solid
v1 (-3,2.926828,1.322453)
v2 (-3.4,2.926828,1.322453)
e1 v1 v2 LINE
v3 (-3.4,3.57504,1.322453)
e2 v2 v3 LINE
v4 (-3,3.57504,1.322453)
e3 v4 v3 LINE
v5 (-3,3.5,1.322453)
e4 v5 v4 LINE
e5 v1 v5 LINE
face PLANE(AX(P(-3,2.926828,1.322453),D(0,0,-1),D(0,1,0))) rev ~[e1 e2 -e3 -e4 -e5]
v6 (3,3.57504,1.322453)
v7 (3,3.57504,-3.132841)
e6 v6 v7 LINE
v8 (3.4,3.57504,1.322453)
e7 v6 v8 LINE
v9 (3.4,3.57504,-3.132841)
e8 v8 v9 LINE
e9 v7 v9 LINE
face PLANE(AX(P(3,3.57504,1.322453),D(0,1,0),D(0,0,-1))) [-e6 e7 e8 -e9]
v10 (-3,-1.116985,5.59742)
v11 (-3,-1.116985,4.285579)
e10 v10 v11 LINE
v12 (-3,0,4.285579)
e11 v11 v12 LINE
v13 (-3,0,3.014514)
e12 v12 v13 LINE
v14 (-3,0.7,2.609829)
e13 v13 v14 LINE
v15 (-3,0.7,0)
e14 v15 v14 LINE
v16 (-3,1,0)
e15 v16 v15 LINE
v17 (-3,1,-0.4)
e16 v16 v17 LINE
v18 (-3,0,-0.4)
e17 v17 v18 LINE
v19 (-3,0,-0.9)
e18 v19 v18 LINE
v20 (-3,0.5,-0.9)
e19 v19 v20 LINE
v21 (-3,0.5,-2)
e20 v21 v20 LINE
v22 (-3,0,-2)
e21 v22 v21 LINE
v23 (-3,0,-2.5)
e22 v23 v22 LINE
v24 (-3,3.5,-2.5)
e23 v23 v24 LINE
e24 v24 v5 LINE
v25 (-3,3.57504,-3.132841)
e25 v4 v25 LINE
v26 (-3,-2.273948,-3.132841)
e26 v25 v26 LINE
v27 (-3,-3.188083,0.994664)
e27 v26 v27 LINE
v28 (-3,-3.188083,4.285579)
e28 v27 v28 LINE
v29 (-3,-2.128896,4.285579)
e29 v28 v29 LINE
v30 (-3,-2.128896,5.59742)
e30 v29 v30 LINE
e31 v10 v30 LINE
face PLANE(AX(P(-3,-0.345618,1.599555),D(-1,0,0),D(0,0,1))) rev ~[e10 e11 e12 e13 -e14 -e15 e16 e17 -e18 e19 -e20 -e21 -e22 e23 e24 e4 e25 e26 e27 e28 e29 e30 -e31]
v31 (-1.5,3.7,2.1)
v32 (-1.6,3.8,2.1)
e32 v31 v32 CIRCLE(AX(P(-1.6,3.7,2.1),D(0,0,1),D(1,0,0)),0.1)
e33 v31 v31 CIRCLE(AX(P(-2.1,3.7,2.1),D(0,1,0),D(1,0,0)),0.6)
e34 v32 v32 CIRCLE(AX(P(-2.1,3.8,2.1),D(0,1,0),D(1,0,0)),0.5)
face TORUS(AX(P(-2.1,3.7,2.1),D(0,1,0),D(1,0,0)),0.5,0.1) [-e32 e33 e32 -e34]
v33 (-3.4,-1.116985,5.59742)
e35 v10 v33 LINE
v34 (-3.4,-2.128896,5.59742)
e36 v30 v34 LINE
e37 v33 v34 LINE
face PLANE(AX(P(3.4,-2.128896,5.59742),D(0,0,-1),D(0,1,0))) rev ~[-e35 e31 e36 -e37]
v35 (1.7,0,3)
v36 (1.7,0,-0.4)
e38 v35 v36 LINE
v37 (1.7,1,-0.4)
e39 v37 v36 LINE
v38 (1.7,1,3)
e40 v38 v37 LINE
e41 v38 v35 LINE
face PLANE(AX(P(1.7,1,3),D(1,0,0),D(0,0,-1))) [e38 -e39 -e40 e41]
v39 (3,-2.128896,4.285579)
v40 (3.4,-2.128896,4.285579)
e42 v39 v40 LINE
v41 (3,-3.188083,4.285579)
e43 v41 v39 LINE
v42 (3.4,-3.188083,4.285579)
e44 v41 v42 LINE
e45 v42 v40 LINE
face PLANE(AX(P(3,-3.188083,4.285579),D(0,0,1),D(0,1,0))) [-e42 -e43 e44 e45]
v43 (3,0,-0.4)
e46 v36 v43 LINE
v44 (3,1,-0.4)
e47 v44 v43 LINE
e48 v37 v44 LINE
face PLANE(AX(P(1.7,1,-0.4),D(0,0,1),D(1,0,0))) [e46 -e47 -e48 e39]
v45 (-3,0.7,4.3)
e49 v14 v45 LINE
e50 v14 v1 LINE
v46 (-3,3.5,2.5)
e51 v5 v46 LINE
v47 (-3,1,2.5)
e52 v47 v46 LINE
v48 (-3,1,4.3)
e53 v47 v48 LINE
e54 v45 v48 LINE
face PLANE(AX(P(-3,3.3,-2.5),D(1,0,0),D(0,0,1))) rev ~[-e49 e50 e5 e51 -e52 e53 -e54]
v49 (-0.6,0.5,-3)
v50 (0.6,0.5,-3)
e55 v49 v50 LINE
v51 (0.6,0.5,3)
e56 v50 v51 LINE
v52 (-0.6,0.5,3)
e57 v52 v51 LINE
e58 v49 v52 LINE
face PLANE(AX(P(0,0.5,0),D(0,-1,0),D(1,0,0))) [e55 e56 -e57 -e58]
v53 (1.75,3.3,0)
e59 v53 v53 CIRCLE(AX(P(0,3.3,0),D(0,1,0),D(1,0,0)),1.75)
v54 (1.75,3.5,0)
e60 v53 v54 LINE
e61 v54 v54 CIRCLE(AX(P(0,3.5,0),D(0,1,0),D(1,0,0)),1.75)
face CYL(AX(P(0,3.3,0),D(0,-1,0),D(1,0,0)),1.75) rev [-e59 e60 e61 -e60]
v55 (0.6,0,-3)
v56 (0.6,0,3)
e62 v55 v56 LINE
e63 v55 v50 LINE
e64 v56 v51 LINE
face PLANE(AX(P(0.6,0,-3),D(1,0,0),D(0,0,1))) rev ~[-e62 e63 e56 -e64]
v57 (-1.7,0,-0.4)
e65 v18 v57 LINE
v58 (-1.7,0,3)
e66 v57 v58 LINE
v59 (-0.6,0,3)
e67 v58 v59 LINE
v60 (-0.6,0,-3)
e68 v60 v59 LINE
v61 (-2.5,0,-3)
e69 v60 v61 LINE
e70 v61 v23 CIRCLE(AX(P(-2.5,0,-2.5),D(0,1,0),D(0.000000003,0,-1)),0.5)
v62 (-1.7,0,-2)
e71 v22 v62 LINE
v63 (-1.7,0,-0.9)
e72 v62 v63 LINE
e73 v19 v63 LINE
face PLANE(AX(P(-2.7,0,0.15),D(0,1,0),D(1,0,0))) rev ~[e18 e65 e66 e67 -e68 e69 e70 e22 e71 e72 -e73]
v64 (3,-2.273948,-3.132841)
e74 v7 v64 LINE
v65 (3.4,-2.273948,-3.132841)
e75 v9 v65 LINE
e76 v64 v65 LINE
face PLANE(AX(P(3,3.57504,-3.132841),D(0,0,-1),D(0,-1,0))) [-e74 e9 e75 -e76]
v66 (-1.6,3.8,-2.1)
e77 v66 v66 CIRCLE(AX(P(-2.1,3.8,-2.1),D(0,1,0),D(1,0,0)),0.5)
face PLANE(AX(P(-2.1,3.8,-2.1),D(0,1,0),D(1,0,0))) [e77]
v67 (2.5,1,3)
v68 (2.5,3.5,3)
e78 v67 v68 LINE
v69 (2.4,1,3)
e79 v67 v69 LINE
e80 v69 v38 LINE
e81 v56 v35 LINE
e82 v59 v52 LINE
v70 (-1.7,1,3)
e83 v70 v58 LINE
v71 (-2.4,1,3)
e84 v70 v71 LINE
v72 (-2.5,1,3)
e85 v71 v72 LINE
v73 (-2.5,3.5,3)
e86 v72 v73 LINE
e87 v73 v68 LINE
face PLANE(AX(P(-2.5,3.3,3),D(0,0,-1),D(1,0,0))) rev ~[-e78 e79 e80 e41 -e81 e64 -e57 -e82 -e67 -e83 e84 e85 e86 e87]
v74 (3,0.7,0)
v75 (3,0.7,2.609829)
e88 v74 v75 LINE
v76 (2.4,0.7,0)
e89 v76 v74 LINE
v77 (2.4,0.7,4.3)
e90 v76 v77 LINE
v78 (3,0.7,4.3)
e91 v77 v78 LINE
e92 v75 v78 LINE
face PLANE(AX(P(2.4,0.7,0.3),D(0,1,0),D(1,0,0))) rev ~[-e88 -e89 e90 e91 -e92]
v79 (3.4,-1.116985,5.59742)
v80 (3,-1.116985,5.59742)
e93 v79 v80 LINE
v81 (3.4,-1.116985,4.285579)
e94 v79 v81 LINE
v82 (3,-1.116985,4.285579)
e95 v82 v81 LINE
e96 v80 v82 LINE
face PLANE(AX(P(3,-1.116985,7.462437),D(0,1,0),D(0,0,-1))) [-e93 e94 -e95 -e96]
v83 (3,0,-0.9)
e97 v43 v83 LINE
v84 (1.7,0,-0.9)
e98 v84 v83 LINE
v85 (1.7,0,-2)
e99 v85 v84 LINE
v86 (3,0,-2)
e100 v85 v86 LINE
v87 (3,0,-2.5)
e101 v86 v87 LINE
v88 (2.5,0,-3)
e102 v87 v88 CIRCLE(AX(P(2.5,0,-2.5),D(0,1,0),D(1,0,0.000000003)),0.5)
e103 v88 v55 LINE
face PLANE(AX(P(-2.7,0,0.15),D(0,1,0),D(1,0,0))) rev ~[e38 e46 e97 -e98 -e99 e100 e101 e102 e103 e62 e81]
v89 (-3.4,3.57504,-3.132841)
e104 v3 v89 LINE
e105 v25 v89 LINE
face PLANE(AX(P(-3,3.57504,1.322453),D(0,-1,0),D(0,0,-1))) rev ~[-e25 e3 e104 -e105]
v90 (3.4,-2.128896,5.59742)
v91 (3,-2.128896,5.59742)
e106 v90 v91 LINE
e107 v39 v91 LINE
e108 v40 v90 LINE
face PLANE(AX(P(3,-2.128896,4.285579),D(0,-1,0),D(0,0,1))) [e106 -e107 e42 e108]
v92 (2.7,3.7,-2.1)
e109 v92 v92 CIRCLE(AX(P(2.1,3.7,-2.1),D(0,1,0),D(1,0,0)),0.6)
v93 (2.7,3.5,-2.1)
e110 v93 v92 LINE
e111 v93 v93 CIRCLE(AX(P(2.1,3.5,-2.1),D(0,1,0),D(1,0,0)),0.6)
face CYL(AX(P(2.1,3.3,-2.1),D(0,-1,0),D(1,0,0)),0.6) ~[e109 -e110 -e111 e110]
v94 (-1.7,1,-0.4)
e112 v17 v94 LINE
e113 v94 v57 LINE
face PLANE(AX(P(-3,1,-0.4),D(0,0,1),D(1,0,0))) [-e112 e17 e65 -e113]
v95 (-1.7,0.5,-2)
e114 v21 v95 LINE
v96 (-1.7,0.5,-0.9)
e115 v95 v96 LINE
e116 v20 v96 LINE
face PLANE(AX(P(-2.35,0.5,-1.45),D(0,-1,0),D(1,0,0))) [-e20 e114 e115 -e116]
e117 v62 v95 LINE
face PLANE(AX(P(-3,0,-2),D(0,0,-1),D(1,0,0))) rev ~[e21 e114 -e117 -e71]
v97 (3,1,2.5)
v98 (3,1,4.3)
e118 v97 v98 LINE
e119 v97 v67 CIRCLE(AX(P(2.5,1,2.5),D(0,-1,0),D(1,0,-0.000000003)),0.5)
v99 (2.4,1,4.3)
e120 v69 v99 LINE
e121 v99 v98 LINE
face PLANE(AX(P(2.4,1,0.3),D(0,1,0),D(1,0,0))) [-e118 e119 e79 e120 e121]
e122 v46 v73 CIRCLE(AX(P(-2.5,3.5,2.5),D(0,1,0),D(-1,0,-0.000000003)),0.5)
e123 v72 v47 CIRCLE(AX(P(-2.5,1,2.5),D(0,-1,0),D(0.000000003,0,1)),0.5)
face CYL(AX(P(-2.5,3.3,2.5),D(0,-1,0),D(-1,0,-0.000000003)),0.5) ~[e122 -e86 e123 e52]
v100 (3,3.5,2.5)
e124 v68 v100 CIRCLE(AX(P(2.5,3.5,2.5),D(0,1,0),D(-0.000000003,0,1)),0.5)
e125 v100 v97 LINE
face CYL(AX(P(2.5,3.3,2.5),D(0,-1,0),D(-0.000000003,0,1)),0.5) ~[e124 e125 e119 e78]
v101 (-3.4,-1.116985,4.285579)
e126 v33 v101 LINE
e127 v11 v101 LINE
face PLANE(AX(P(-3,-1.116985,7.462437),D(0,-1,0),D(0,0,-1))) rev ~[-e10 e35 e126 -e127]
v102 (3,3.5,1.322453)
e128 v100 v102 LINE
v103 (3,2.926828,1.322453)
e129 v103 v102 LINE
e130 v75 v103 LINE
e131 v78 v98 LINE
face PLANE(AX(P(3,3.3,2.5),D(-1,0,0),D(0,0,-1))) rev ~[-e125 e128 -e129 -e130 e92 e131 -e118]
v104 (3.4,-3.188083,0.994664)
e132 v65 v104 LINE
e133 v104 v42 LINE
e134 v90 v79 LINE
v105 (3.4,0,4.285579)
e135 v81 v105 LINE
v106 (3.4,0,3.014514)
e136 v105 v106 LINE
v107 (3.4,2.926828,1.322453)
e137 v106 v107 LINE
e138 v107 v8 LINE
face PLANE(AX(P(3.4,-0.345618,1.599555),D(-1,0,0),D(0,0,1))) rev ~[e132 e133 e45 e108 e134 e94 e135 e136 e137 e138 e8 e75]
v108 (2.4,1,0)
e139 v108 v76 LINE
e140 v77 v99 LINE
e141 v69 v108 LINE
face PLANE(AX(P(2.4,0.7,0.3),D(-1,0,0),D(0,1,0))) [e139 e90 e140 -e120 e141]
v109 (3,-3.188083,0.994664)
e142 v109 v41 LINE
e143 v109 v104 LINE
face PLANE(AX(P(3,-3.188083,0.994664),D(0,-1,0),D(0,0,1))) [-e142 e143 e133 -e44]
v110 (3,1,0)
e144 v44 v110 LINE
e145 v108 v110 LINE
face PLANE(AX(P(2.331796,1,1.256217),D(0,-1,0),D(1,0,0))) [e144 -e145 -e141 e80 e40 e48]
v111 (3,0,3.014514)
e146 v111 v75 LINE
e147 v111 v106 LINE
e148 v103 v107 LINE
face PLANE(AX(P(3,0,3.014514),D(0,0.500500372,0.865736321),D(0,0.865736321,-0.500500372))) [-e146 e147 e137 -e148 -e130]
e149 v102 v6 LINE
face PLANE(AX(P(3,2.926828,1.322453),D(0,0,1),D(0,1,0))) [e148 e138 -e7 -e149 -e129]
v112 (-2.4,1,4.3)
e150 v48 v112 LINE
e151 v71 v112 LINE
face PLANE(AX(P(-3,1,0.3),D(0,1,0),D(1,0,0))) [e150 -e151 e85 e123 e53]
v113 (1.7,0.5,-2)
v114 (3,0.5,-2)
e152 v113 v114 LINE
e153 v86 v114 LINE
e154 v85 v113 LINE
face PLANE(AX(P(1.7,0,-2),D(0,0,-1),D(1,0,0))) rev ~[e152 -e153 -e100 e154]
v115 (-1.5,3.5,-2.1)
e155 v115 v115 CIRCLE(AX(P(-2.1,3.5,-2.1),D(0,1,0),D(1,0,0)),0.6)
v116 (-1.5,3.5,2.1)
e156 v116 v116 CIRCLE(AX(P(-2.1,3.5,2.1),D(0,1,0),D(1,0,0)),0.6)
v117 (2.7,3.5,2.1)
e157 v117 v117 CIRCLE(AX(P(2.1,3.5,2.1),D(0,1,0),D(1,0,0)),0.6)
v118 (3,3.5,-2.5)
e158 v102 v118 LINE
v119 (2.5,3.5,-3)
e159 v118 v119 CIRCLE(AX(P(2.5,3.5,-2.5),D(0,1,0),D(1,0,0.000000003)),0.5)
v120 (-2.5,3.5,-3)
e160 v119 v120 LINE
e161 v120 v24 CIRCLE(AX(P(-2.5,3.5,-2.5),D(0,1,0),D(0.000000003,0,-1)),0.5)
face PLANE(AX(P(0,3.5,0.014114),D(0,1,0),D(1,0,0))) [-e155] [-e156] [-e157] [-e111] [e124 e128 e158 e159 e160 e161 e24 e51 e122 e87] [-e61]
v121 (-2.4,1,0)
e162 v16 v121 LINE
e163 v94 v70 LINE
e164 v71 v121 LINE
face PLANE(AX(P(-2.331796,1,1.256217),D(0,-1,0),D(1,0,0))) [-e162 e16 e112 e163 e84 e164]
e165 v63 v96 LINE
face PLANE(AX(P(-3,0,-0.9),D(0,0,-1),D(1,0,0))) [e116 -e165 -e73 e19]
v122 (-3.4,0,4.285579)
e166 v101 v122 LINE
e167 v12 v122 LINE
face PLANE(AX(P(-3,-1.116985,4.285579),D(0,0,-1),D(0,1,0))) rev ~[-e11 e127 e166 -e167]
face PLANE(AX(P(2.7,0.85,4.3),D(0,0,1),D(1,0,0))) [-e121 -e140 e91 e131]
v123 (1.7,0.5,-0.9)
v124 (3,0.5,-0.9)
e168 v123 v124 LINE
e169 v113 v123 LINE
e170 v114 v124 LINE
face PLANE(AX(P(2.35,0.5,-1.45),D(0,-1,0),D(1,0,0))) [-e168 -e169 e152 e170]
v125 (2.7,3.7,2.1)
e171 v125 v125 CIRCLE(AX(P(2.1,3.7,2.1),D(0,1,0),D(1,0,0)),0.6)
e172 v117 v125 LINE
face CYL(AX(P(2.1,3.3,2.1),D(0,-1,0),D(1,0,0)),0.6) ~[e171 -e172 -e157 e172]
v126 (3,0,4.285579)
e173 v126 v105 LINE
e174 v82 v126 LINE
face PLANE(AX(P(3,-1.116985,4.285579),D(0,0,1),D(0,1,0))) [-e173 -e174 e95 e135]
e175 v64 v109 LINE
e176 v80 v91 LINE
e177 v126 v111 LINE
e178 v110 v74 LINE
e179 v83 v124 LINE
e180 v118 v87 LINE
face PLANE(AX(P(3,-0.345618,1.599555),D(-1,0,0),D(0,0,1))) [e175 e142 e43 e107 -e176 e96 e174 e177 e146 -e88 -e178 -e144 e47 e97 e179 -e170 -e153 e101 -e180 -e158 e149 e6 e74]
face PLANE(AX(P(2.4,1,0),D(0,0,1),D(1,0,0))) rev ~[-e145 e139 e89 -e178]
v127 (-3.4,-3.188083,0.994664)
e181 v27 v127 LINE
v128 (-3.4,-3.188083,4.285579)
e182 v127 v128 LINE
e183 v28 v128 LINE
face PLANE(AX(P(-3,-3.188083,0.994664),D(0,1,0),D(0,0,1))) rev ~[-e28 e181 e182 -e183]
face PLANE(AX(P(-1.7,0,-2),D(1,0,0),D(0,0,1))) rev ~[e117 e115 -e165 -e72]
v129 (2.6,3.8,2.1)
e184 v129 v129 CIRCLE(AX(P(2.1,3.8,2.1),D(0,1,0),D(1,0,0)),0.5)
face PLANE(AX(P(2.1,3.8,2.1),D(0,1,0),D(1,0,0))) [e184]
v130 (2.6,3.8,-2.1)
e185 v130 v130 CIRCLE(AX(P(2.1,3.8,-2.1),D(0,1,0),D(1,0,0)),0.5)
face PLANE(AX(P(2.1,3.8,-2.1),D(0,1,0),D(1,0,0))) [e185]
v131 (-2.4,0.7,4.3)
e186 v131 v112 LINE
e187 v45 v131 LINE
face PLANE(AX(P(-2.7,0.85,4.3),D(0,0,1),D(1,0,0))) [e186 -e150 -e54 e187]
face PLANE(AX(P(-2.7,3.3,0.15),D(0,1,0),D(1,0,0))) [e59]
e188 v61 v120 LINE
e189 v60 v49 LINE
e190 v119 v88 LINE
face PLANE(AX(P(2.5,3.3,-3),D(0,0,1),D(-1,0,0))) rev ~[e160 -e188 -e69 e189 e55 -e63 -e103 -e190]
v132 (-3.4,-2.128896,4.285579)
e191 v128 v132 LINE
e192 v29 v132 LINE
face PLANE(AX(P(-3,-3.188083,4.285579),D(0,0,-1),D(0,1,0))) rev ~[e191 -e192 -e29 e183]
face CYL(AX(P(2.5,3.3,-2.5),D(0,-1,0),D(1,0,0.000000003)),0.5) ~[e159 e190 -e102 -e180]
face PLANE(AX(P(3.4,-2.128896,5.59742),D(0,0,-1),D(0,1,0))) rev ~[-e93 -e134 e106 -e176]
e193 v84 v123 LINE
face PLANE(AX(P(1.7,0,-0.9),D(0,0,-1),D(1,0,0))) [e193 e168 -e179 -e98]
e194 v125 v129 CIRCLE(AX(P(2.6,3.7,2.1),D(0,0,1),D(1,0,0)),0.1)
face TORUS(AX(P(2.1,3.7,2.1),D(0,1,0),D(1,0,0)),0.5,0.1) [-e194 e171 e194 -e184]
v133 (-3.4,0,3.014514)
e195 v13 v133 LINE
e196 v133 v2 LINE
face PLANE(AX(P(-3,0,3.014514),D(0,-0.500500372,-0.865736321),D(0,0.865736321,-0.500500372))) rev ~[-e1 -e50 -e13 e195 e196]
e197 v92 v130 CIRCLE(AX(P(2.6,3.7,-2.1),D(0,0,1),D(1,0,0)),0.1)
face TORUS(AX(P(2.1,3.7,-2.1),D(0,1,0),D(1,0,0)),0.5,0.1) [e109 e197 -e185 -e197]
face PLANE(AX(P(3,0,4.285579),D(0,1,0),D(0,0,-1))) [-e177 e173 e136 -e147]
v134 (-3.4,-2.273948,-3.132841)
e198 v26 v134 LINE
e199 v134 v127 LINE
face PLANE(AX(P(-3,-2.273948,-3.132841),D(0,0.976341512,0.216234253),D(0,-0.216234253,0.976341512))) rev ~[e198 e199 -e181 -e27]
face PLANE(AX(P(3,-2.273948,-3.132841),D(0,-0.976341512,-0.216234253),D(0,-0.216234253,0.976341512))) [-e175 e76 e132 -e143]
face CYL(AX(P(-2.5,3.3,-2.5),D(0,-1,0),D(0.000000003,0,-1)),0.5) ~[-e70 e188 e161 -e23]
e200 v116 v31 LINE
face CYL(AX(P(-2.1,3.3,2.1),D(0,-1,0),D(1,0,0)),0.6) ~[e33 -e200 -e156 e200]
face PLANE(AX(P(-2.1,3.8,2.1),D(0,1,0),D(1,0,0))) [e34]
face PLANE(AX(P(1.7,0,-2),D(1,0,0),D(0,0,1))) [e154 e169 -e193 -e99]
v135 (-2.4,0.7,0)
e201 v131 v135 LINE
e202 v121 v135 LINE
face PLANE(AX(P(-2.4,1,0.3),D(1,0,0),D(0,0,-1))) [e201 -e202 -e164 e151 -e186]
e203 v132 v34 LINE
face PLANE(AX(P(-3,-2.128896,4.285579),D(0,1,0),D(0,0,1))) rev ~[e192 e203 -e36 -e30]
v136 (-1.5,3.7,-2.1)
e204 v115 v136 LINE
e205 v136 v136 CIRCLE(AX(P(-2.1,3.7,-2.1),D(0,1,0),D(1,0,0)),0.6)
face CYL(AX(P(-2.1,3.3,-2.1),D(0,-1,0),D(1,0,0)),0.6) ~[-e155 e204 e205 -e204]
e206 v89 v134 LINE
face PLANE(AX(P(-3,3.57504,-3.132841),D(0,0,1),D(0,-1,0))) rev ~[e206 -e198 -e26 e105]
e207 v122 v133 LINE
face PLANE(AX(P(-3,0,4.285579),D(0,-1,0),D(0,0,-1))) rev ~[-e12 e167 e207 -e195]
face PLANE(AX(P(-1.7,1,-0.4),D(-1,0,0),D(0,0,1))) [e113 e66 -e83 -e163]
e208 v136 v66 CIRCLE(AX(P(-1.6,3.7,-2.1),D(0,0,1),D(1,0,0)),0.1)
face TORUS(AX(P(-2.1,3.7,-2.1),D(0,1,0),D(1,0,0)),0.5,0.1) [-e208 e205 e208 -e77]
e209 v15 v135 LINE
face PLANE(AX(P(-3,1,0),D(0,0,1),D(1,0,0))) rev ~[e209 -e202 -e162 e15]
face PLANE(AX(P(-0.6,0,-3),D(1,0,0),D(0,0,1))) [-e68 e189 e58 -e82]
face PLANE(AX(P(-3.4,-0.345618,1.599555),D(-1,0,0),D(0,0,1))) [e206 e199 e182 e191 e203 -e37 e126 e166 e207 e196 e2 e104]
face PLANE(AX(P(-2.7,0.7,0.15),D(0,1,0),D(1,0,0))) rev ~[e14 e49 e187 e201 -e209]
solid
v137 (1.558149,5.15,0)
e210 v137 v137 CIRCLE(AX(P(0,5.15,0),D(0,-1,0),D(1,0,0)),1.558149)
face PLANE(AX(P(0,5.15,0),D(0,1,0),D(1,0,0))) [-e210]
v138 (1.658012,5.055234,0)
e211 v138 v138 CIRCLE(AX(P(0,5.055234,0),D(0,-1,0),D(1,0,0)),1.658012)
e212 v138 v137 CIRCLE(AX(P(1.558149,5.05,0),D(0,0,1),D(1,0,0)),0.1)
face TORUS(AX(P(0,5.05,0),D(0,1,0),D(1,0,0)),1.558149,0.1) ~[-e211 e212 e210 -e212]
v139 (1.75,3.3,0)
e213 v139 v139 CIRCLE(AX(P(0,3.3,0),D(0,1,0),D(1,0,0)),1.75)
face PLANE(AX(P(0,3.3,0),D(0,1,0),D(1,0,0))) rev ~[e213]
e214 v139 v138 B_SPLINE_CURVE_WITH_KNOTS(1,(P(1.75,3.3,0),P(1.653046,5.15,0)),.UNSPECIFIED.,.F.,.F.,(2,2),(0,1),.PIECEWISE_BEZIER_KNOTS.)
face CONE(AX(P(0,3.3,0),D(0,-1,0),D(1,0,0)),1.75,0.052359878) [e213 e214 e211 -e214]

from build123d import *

# Parameters (mm, degrees)
SKETCH1_W                 = 0.6
SKETCH1_H                 = 0.3
SKETCH1_R                 = 0.6
SKETCH1_R_2               = 1.75
BASE_DEPTH                = 3.3
TOP_START                 = 3.3
SKETCH1_3_R               = 0.6
SKETCH1_3_R_2             = 1.75
SKETCH1_3_W               = 0.6
SKETCH1_3_H               = 0.3
TOP_PLATE_DEPTH           = 0.2
KNOBS_START               = 3.3
SKETCH1_4_R               = 0.6
KNOBS_DEPTH               = 0.5
ACTUATOR_START            = 3.3
SKETCH1_5_R               = 1.75
ACTUATOR_DEPTH            = 1.85
ACTUATOR_TAPER            = 3
BASE_START                = -1
BASE_LEG_CUTOUT_DEPTH     = 1
SKETCH2_3_W               = 1.2
SKETCH2_3_H               = 6
SKETCH2_3_W_2             = 1.3
SKETCH2_3_H_2             = 1.1
BASE_SHALLOW_CUTOUT_DEPTH = 0.5
PINS_START                = 1
SKETCH1_7_W               = 0.6
SKETCH1_7_H               = 0.3
PINS_DEPTH                = 0.3
PINS_2_DEPTH              = 0.3
FILLET1_R                 = 0.1
FILLET2_R                 = 0.1
SKETCH4_W                 = 0.6
SKETCH4_H                 = 0.3
BOSS_EXTRUDE1_DEPTH       = 4
BOSS_EXTRUDE2_DEPTH       = 0.4
BOSS_EXTRUDE3_DEPTH       = 0.4
SKETCH8_W                 = 2.370971926
SKETCH8_H                 = 1.011910634
CUT_EXTRUDE1_DEPTH        = 1
CUT_EXTRUDE1_DEPTH_BACK   = 7.8


with BuildPart() as part:
    # Sketch1 → Base (new body)
    with BuildSketch(Plane(origin=(0, 0, 0), x_dir=(1, 0, 0), z_dir=(0, 1, 0))):
        with Locations((-2.7, -0.15)):
            Rectangle(SKETCH1_W, SKETCH1_H)
        with BuildLine():
            Line((2.5, 3), (-2.5, 3))
            ThreePointArc((-2.5, 3), (-2.853553391, 2.853553391), (-3, 2.5))
            Line((-3, 2.5), (-3, 0))
            Line((-3, 0), (-2.4, 0))
            Line((-2.4, 0), (-2.4, -0.3))
            Line((-2.4, -0.3), (-3, -0.3))
            Line((-3, -0.3), (-3, -2.5))
            ThreePointArc((-3, -2.5), (-2.853553391, -2.853553391), (-2.5, -3))
            Line((-2.5, -3), (2.5, -3))
            ThreePointArc((2.5, -3), (2.853553391, -2.853553391), (3, -2.5))
            Line((3, -2.5), (3, -0.3))
            Line((3, -0.3), (2.4, -0.3))
            Line((2.4, -0.3), (2.4, 0))
            Line((2.4, 0), (3, 0))
            Line((3, 0), (3, 2.5))
            ThreePointArc((3, 2.5), (2.853553391, 2.853553391), (2.5, 3))
        make_face()
        with Locations((-2.1, -2.1)):
            Circle(SKETCH1_R, mode=Mode.SUBTRACT)
        Circle(SKETCH1_R_2, mode=Mode.SUBTRACT)
        with Locations((2.1, -2.1)):
            Circle(SKETCH1_R, mode=Mode.SUBTRACT)
        with Locations((-2.1, 2.1)):
            Circle(SKETCH1_R, mode=Mode.SUBTRACT)
        with Locations((2.1, 2.1)):
            Circle(SKETCH1_R, mode=Mode.SUBTRACT)
        with Locations((-2.1, 2.1)):
            Circle(SKETCH1_R)
        with Locations((-2.1, -2.1)):
            Circle(SKETCH1_R)
        Circle(SKETCH1_R_2)
        with Locations((2.1, -2.1)):
            Circle(SKETCH1_R)
        with Locations((2.7, -0.15)):
            Rectangle(SKETCH1_W, SKETCH1_H)
        with Locations((2.1, 2.1)):
            Circle(SKETCH1_R)
    extrude(amount=BASE_DEPTH)

    # Sketch1<4> → Knobs (add)
    with BuildSketch(Plane(origin=(0, 0, 0), x_dir=(1, 0, 0), z_dir=(0, 1, 0)).offset(KNOBS_START)):
        with Locations((2.1, -2.1)):
            Circle(SKETCH1_4_R)
        with Locations((-2.1, -2.1)):
            Circle(SKETCH1_4_R)
        with Locations((-2.1, 2.1)):
            Circle(SKETCH1_4_R)
        with Locations((2.1, 2.1)):
            Circle(SKETCH1_4_R)
    extrude(amount=KNOBS_DEPTH)

    # Sketch2 → Base Leg Cutout (cut)
    with BuildSketch(Plane.XZ.offset(BASE_START)):
        with BuildLine():
            Line((-1.7, -0.4), (-1.7, 3))
            Line((-1.7, 3), (-2.5, 3))
            ThreePointArc((-2.5, 3), (-2.853553391, 2.853553391), (-3, 2.5))
            Line((-3, 2.5), (-3, -0.4))
            Line((-3, -0.4), (-1.7, -0.4))
        make_face()
        with BuildLine():
            Line((2.5, 3), (1.7, 3))
            Line((1.7, 3), (1.7, -0.4))
            Line((1.7, -0.4), (3, -0.4))
            Line((3, -0.4), (3, 2.5))
            ThreePointArc((3, 2.5), (2.853553391, 2.853553391), (2.5, 3))
        make_face()
    extrude(amount=BASE_LEG_CUTOUT_DEPTH, mode=Mode.SUBTRACT)

    # Sketch2<3> → Base Shallow Cutout (cut)
    with BuildSketch(Plane.XZ):
        Rectangle(SKETCH2_3_W, SKETCH2_3_H)
        with Locations((2.35, -1.45)):
            Rectangle(SKETCH2_3_W_2, SKETCH2_3_H_2)
        with Locations((-2.35, -1.45)):
            Rectangle(SKETCH2_3_W_2, SKETCH2_3_H_2)
    extrude(amount=-BASE_SHALLOW_CUTOUT_DEPTH, mode=Mode.SUBTRACT)

    # Fillet2
    fillet2_edges = [part.edges().sort_by_distance(p)[0] for p in [
        (1.5, 3.8, 2.1),
        (-2.7, 3.8, 2.1),
        (-2.7, 3.8, -2.1),
        (1.5, 3.8, -2.1),
    ]]
    fillet(fillet2_edges, radius=FILLET2_R)



with BuildPart() as body_2:
    # Sketch1<3> → Top Plate (new body)
    with BuildSketch(Plane(origin=(0, 0, 0), x_dir=(1, 0, 0), z_dir=(0, 1, 0)).offset(TOP_START)):
        with BuildLine():
            Line((2.5, 3), (-2.5, 3))
            ThreePointArc((-2.5, 3), (-2.853553391, 2.853553391), (-3, 2.5))
            Line((-3, 2.5), (-3, 0))
            Line((-3, 0), (-2.4, 0))
            Line((-2.4, 0), (-2.4, -0.3))
            Line((-2.4, -0.3), (-3, -0.3))
            Line((-3, -0.3), (-3, -2.5))
            ThreePointArc((-3, -2.5), (-2.853553391, -2.853553391), (-2.5, -3))
            Line((-2.5, -3), (2.5, -3))
            ThreePointArc((2.5, -3), (2.853553391, -2.853553391), (3, -2.5))
            Line((3, -2.5), (3, -0.3))
            Line((3, -0.3), (2.4, -0.3))
            Line((2.4, -0.3), (2.4, 0))
            Line((2.4, 0), (3, 0))
            Line((3, 0), (3, 2.5))
            ThreePointArc((3, 2.5), (2.853553391, 2.853553391), (2.5, 3))
        make_face()
        with Locations((-2.1, -2.1)):
            Circle(SKETCH1_3_R, mode=Mode.SUBTRACT)
        Circle(SKETCH1_3_R_2, mode=Mode.SUBTRACT)
        with Locations((2.1, -2.1)):
            Circle(SKETCH1_3_R, mode=Mode.SUBTRACT)
        with Locations((-2.1, 2.1)):
            Circle(SKETCH1_3_R, mode=Mode.SUBTRACT)
        with Locations((2.1, 2.1)):
            Circle(SKETCH1_3_R, mode=Mode.SUBTRACT)
        with Locations((2.7, -0.15)):
            Rectangle(SKETCH1_3_W, SKETCH1_3_H)
        with Locations((-2.7, -0.15)):
            Rectangle(SKETCH1_3_W, SKETCH1_3_H)
    extrude(amount=TOP_PLATE_DEPTH)


with BuildPart() as body_3:
    # Sketch1<5> → Actuator (new body)
    with BuildSketch(Plane(origin=(0, 0, 0), x_dir=(1, 0, 0), z_dir=(0, 1, 0)).offset(ACTUATOR_START)):
        Circle(SKETCH1_5_R)
    extrude(amount=ACTUATOR_DEPTH, taper=ACTUATOR_TAPER)

    # Fillet1
    fillet1_edges = [body_3.edges().sort_by_distance(p)[0] for p in [
        (-1.653045608, 5.15, 0),
    ]]
    fillet(fillet1_edges, radius=FILLET1_R)


with BuildPart() as body_4:
    # Sketch1<7> → Pins (new body)
    with BuildSketch(Plane(origin=(0, 0, 0), x_dir=(1, 0, 0), z_dir=(0, 1, 0)).offset(PINS_START)):
        with Locations((-2.7, -0.15)):
            Rectangle(SKETCH1_7_W, SKETCH1_7_H)
    extrude(amount=-PINS_DEPTH)


with BuildPart() as body_5:
    # Sketch1<7> → Pins 2 (new body)
    with BuildSketch(Plane(origin=(0, 0, 0), x_dir=(1, 0, 0), z_dir=(0, 1, 0)).offset(PINS_START)):
        with Locations((2.7, -0.15)):
            Rectangle(SKETCH1_7_W, SKETCH1_7_H)
    extrude(amount=-PINS_2_DEPTH)


with BuildPart() as part_1:
    add(part.part)

    add(body_4.part)  # Boss-Extrude1 merges body 4

    add(body_5.part)  # Boss-Extrude1 merges body 5
    # Sketch4 → Boss-Extrude1 (add)
    with BuildSketch(Plane.XY.offset(0.3)):
        with Locations((2.7, 0.85)):
            Rectangle(SKETCH4_W, SKETCH4_H)
        with Locations((-2.7, 0.85)):
            Rectangle(SKETCH4_W, SKETCH4_H)
    extrude(amount=BOSS_EXTRUDE1_DEPTH)


    add(body_2.part)  # Boss-Extrude2 merges body 2
    # Sketch6 → Boss-Extrude2 (add)
    with BuildSketch(Plane(origin=(3, 0, 0), x_dir=(0, 0, -1), z_dir=(1, 0, 0))):
        with BuildLine():
            Line((3.132840684, 3.575039622), (3.132840684, -2.273948021))
            Line((3.132840684, -2.273948021), (-0.994663761, -3.188082912))
            Line((-0.994663761, -3.188082912), (-4.285578573, -3.188082912))
            Line((-4.285578573, -3.188082912), (-4.285578573, -2.128896003))
            Line((-4.285578573, -2.128896003), (-7.462436516, -2.128896003))
            ThreePointArc((-7.462436516, -2.128896003), (-7.968391833, -1.622940686), (-7.462436516, -1.116985369))
            Line((-7.462436516, -1.116985369), (-4.285578573, -1.116985369))
            Line((-4.285578573, -1.116985369), (-4.285578573, 0))
            Line((-4.285578573, 0), (-3.014513822, 0))
            Line((-3.014513822, 0), (-1.322453077, 2.926827881))
            Line((-1.322453077, 2.926827881), (-1.322453077, 3.575039622))
            Line((-1.322453077, 3.575039622), (3.132840684, 3.575039622))
        make_face()
    extrude(amount=BOSS_EXTRUDE2_DEPTH)

    # Sketch7 → Boss-Extrude3 (add)
    with BuildSketch(Plane.ZY.offset(3)):
        with BuildLine():
            Line((1.322453077, 3.575039622), (-3.132840684, 3.575039622))
            Line((-3.132840684, 3.575039622), (-3.132840684, -2.273948021))
            Line((-3.132840684, -2.273948021), (0.994663761, -3.188082912))
            Line((0.994663761, -3.188082912), (4.285578573, -3.188082912))
            Line((4.285578573, -3.188082912), (4.285578573, -2.128896003))
            Line((4.285578573, -2.128896003), (7.462436516, -2.128896003))
            ThreePointArc((7.462436516, -2.128896003), (7.968391833, -1.622940686), (7.462436516, -1.116985369))
            Line((7.462436516, -1.116985369), (4.285578573, -1.116985369))
            Line((4.285578573, -1.116985369), (4.285578573, 0))
            Line((4.285578573, 0), (3.014513822, 0))
            Line((3.014513822, 0), (1.322453077, 2.926827881))
            Line((1.322453077, 2.926827881), (1.322453077, 3.575039622))
        make_face()
    extrude(amount=BOSS_EXTRUDE3_DEPTH)

    # Sketch8 → Cut-Extrude1 (cut, two sides)
    with BuildSketch(Plane(origin=(3.4, 0, 0), x_dir=(0, 0, -1), z_dir=(1, 0, 0))) as cut_extrude1_sk:
        with Locations((-6.78290587, -1.622940686)):
            Rectangle(SKETCH8_W, SKETCH8_H)
    extrude(amount=CUT_EXTRUDE1_DEPTH, mode=Mode.SUBTRACT)
    extrude(cut_extrude1_sk.sketch, amount=-CUT_EXTRUDE1_DEPTH_BACK, mode=Mode.SUBTRACT)


solid = Compound([body_3.part, part_1.part])
